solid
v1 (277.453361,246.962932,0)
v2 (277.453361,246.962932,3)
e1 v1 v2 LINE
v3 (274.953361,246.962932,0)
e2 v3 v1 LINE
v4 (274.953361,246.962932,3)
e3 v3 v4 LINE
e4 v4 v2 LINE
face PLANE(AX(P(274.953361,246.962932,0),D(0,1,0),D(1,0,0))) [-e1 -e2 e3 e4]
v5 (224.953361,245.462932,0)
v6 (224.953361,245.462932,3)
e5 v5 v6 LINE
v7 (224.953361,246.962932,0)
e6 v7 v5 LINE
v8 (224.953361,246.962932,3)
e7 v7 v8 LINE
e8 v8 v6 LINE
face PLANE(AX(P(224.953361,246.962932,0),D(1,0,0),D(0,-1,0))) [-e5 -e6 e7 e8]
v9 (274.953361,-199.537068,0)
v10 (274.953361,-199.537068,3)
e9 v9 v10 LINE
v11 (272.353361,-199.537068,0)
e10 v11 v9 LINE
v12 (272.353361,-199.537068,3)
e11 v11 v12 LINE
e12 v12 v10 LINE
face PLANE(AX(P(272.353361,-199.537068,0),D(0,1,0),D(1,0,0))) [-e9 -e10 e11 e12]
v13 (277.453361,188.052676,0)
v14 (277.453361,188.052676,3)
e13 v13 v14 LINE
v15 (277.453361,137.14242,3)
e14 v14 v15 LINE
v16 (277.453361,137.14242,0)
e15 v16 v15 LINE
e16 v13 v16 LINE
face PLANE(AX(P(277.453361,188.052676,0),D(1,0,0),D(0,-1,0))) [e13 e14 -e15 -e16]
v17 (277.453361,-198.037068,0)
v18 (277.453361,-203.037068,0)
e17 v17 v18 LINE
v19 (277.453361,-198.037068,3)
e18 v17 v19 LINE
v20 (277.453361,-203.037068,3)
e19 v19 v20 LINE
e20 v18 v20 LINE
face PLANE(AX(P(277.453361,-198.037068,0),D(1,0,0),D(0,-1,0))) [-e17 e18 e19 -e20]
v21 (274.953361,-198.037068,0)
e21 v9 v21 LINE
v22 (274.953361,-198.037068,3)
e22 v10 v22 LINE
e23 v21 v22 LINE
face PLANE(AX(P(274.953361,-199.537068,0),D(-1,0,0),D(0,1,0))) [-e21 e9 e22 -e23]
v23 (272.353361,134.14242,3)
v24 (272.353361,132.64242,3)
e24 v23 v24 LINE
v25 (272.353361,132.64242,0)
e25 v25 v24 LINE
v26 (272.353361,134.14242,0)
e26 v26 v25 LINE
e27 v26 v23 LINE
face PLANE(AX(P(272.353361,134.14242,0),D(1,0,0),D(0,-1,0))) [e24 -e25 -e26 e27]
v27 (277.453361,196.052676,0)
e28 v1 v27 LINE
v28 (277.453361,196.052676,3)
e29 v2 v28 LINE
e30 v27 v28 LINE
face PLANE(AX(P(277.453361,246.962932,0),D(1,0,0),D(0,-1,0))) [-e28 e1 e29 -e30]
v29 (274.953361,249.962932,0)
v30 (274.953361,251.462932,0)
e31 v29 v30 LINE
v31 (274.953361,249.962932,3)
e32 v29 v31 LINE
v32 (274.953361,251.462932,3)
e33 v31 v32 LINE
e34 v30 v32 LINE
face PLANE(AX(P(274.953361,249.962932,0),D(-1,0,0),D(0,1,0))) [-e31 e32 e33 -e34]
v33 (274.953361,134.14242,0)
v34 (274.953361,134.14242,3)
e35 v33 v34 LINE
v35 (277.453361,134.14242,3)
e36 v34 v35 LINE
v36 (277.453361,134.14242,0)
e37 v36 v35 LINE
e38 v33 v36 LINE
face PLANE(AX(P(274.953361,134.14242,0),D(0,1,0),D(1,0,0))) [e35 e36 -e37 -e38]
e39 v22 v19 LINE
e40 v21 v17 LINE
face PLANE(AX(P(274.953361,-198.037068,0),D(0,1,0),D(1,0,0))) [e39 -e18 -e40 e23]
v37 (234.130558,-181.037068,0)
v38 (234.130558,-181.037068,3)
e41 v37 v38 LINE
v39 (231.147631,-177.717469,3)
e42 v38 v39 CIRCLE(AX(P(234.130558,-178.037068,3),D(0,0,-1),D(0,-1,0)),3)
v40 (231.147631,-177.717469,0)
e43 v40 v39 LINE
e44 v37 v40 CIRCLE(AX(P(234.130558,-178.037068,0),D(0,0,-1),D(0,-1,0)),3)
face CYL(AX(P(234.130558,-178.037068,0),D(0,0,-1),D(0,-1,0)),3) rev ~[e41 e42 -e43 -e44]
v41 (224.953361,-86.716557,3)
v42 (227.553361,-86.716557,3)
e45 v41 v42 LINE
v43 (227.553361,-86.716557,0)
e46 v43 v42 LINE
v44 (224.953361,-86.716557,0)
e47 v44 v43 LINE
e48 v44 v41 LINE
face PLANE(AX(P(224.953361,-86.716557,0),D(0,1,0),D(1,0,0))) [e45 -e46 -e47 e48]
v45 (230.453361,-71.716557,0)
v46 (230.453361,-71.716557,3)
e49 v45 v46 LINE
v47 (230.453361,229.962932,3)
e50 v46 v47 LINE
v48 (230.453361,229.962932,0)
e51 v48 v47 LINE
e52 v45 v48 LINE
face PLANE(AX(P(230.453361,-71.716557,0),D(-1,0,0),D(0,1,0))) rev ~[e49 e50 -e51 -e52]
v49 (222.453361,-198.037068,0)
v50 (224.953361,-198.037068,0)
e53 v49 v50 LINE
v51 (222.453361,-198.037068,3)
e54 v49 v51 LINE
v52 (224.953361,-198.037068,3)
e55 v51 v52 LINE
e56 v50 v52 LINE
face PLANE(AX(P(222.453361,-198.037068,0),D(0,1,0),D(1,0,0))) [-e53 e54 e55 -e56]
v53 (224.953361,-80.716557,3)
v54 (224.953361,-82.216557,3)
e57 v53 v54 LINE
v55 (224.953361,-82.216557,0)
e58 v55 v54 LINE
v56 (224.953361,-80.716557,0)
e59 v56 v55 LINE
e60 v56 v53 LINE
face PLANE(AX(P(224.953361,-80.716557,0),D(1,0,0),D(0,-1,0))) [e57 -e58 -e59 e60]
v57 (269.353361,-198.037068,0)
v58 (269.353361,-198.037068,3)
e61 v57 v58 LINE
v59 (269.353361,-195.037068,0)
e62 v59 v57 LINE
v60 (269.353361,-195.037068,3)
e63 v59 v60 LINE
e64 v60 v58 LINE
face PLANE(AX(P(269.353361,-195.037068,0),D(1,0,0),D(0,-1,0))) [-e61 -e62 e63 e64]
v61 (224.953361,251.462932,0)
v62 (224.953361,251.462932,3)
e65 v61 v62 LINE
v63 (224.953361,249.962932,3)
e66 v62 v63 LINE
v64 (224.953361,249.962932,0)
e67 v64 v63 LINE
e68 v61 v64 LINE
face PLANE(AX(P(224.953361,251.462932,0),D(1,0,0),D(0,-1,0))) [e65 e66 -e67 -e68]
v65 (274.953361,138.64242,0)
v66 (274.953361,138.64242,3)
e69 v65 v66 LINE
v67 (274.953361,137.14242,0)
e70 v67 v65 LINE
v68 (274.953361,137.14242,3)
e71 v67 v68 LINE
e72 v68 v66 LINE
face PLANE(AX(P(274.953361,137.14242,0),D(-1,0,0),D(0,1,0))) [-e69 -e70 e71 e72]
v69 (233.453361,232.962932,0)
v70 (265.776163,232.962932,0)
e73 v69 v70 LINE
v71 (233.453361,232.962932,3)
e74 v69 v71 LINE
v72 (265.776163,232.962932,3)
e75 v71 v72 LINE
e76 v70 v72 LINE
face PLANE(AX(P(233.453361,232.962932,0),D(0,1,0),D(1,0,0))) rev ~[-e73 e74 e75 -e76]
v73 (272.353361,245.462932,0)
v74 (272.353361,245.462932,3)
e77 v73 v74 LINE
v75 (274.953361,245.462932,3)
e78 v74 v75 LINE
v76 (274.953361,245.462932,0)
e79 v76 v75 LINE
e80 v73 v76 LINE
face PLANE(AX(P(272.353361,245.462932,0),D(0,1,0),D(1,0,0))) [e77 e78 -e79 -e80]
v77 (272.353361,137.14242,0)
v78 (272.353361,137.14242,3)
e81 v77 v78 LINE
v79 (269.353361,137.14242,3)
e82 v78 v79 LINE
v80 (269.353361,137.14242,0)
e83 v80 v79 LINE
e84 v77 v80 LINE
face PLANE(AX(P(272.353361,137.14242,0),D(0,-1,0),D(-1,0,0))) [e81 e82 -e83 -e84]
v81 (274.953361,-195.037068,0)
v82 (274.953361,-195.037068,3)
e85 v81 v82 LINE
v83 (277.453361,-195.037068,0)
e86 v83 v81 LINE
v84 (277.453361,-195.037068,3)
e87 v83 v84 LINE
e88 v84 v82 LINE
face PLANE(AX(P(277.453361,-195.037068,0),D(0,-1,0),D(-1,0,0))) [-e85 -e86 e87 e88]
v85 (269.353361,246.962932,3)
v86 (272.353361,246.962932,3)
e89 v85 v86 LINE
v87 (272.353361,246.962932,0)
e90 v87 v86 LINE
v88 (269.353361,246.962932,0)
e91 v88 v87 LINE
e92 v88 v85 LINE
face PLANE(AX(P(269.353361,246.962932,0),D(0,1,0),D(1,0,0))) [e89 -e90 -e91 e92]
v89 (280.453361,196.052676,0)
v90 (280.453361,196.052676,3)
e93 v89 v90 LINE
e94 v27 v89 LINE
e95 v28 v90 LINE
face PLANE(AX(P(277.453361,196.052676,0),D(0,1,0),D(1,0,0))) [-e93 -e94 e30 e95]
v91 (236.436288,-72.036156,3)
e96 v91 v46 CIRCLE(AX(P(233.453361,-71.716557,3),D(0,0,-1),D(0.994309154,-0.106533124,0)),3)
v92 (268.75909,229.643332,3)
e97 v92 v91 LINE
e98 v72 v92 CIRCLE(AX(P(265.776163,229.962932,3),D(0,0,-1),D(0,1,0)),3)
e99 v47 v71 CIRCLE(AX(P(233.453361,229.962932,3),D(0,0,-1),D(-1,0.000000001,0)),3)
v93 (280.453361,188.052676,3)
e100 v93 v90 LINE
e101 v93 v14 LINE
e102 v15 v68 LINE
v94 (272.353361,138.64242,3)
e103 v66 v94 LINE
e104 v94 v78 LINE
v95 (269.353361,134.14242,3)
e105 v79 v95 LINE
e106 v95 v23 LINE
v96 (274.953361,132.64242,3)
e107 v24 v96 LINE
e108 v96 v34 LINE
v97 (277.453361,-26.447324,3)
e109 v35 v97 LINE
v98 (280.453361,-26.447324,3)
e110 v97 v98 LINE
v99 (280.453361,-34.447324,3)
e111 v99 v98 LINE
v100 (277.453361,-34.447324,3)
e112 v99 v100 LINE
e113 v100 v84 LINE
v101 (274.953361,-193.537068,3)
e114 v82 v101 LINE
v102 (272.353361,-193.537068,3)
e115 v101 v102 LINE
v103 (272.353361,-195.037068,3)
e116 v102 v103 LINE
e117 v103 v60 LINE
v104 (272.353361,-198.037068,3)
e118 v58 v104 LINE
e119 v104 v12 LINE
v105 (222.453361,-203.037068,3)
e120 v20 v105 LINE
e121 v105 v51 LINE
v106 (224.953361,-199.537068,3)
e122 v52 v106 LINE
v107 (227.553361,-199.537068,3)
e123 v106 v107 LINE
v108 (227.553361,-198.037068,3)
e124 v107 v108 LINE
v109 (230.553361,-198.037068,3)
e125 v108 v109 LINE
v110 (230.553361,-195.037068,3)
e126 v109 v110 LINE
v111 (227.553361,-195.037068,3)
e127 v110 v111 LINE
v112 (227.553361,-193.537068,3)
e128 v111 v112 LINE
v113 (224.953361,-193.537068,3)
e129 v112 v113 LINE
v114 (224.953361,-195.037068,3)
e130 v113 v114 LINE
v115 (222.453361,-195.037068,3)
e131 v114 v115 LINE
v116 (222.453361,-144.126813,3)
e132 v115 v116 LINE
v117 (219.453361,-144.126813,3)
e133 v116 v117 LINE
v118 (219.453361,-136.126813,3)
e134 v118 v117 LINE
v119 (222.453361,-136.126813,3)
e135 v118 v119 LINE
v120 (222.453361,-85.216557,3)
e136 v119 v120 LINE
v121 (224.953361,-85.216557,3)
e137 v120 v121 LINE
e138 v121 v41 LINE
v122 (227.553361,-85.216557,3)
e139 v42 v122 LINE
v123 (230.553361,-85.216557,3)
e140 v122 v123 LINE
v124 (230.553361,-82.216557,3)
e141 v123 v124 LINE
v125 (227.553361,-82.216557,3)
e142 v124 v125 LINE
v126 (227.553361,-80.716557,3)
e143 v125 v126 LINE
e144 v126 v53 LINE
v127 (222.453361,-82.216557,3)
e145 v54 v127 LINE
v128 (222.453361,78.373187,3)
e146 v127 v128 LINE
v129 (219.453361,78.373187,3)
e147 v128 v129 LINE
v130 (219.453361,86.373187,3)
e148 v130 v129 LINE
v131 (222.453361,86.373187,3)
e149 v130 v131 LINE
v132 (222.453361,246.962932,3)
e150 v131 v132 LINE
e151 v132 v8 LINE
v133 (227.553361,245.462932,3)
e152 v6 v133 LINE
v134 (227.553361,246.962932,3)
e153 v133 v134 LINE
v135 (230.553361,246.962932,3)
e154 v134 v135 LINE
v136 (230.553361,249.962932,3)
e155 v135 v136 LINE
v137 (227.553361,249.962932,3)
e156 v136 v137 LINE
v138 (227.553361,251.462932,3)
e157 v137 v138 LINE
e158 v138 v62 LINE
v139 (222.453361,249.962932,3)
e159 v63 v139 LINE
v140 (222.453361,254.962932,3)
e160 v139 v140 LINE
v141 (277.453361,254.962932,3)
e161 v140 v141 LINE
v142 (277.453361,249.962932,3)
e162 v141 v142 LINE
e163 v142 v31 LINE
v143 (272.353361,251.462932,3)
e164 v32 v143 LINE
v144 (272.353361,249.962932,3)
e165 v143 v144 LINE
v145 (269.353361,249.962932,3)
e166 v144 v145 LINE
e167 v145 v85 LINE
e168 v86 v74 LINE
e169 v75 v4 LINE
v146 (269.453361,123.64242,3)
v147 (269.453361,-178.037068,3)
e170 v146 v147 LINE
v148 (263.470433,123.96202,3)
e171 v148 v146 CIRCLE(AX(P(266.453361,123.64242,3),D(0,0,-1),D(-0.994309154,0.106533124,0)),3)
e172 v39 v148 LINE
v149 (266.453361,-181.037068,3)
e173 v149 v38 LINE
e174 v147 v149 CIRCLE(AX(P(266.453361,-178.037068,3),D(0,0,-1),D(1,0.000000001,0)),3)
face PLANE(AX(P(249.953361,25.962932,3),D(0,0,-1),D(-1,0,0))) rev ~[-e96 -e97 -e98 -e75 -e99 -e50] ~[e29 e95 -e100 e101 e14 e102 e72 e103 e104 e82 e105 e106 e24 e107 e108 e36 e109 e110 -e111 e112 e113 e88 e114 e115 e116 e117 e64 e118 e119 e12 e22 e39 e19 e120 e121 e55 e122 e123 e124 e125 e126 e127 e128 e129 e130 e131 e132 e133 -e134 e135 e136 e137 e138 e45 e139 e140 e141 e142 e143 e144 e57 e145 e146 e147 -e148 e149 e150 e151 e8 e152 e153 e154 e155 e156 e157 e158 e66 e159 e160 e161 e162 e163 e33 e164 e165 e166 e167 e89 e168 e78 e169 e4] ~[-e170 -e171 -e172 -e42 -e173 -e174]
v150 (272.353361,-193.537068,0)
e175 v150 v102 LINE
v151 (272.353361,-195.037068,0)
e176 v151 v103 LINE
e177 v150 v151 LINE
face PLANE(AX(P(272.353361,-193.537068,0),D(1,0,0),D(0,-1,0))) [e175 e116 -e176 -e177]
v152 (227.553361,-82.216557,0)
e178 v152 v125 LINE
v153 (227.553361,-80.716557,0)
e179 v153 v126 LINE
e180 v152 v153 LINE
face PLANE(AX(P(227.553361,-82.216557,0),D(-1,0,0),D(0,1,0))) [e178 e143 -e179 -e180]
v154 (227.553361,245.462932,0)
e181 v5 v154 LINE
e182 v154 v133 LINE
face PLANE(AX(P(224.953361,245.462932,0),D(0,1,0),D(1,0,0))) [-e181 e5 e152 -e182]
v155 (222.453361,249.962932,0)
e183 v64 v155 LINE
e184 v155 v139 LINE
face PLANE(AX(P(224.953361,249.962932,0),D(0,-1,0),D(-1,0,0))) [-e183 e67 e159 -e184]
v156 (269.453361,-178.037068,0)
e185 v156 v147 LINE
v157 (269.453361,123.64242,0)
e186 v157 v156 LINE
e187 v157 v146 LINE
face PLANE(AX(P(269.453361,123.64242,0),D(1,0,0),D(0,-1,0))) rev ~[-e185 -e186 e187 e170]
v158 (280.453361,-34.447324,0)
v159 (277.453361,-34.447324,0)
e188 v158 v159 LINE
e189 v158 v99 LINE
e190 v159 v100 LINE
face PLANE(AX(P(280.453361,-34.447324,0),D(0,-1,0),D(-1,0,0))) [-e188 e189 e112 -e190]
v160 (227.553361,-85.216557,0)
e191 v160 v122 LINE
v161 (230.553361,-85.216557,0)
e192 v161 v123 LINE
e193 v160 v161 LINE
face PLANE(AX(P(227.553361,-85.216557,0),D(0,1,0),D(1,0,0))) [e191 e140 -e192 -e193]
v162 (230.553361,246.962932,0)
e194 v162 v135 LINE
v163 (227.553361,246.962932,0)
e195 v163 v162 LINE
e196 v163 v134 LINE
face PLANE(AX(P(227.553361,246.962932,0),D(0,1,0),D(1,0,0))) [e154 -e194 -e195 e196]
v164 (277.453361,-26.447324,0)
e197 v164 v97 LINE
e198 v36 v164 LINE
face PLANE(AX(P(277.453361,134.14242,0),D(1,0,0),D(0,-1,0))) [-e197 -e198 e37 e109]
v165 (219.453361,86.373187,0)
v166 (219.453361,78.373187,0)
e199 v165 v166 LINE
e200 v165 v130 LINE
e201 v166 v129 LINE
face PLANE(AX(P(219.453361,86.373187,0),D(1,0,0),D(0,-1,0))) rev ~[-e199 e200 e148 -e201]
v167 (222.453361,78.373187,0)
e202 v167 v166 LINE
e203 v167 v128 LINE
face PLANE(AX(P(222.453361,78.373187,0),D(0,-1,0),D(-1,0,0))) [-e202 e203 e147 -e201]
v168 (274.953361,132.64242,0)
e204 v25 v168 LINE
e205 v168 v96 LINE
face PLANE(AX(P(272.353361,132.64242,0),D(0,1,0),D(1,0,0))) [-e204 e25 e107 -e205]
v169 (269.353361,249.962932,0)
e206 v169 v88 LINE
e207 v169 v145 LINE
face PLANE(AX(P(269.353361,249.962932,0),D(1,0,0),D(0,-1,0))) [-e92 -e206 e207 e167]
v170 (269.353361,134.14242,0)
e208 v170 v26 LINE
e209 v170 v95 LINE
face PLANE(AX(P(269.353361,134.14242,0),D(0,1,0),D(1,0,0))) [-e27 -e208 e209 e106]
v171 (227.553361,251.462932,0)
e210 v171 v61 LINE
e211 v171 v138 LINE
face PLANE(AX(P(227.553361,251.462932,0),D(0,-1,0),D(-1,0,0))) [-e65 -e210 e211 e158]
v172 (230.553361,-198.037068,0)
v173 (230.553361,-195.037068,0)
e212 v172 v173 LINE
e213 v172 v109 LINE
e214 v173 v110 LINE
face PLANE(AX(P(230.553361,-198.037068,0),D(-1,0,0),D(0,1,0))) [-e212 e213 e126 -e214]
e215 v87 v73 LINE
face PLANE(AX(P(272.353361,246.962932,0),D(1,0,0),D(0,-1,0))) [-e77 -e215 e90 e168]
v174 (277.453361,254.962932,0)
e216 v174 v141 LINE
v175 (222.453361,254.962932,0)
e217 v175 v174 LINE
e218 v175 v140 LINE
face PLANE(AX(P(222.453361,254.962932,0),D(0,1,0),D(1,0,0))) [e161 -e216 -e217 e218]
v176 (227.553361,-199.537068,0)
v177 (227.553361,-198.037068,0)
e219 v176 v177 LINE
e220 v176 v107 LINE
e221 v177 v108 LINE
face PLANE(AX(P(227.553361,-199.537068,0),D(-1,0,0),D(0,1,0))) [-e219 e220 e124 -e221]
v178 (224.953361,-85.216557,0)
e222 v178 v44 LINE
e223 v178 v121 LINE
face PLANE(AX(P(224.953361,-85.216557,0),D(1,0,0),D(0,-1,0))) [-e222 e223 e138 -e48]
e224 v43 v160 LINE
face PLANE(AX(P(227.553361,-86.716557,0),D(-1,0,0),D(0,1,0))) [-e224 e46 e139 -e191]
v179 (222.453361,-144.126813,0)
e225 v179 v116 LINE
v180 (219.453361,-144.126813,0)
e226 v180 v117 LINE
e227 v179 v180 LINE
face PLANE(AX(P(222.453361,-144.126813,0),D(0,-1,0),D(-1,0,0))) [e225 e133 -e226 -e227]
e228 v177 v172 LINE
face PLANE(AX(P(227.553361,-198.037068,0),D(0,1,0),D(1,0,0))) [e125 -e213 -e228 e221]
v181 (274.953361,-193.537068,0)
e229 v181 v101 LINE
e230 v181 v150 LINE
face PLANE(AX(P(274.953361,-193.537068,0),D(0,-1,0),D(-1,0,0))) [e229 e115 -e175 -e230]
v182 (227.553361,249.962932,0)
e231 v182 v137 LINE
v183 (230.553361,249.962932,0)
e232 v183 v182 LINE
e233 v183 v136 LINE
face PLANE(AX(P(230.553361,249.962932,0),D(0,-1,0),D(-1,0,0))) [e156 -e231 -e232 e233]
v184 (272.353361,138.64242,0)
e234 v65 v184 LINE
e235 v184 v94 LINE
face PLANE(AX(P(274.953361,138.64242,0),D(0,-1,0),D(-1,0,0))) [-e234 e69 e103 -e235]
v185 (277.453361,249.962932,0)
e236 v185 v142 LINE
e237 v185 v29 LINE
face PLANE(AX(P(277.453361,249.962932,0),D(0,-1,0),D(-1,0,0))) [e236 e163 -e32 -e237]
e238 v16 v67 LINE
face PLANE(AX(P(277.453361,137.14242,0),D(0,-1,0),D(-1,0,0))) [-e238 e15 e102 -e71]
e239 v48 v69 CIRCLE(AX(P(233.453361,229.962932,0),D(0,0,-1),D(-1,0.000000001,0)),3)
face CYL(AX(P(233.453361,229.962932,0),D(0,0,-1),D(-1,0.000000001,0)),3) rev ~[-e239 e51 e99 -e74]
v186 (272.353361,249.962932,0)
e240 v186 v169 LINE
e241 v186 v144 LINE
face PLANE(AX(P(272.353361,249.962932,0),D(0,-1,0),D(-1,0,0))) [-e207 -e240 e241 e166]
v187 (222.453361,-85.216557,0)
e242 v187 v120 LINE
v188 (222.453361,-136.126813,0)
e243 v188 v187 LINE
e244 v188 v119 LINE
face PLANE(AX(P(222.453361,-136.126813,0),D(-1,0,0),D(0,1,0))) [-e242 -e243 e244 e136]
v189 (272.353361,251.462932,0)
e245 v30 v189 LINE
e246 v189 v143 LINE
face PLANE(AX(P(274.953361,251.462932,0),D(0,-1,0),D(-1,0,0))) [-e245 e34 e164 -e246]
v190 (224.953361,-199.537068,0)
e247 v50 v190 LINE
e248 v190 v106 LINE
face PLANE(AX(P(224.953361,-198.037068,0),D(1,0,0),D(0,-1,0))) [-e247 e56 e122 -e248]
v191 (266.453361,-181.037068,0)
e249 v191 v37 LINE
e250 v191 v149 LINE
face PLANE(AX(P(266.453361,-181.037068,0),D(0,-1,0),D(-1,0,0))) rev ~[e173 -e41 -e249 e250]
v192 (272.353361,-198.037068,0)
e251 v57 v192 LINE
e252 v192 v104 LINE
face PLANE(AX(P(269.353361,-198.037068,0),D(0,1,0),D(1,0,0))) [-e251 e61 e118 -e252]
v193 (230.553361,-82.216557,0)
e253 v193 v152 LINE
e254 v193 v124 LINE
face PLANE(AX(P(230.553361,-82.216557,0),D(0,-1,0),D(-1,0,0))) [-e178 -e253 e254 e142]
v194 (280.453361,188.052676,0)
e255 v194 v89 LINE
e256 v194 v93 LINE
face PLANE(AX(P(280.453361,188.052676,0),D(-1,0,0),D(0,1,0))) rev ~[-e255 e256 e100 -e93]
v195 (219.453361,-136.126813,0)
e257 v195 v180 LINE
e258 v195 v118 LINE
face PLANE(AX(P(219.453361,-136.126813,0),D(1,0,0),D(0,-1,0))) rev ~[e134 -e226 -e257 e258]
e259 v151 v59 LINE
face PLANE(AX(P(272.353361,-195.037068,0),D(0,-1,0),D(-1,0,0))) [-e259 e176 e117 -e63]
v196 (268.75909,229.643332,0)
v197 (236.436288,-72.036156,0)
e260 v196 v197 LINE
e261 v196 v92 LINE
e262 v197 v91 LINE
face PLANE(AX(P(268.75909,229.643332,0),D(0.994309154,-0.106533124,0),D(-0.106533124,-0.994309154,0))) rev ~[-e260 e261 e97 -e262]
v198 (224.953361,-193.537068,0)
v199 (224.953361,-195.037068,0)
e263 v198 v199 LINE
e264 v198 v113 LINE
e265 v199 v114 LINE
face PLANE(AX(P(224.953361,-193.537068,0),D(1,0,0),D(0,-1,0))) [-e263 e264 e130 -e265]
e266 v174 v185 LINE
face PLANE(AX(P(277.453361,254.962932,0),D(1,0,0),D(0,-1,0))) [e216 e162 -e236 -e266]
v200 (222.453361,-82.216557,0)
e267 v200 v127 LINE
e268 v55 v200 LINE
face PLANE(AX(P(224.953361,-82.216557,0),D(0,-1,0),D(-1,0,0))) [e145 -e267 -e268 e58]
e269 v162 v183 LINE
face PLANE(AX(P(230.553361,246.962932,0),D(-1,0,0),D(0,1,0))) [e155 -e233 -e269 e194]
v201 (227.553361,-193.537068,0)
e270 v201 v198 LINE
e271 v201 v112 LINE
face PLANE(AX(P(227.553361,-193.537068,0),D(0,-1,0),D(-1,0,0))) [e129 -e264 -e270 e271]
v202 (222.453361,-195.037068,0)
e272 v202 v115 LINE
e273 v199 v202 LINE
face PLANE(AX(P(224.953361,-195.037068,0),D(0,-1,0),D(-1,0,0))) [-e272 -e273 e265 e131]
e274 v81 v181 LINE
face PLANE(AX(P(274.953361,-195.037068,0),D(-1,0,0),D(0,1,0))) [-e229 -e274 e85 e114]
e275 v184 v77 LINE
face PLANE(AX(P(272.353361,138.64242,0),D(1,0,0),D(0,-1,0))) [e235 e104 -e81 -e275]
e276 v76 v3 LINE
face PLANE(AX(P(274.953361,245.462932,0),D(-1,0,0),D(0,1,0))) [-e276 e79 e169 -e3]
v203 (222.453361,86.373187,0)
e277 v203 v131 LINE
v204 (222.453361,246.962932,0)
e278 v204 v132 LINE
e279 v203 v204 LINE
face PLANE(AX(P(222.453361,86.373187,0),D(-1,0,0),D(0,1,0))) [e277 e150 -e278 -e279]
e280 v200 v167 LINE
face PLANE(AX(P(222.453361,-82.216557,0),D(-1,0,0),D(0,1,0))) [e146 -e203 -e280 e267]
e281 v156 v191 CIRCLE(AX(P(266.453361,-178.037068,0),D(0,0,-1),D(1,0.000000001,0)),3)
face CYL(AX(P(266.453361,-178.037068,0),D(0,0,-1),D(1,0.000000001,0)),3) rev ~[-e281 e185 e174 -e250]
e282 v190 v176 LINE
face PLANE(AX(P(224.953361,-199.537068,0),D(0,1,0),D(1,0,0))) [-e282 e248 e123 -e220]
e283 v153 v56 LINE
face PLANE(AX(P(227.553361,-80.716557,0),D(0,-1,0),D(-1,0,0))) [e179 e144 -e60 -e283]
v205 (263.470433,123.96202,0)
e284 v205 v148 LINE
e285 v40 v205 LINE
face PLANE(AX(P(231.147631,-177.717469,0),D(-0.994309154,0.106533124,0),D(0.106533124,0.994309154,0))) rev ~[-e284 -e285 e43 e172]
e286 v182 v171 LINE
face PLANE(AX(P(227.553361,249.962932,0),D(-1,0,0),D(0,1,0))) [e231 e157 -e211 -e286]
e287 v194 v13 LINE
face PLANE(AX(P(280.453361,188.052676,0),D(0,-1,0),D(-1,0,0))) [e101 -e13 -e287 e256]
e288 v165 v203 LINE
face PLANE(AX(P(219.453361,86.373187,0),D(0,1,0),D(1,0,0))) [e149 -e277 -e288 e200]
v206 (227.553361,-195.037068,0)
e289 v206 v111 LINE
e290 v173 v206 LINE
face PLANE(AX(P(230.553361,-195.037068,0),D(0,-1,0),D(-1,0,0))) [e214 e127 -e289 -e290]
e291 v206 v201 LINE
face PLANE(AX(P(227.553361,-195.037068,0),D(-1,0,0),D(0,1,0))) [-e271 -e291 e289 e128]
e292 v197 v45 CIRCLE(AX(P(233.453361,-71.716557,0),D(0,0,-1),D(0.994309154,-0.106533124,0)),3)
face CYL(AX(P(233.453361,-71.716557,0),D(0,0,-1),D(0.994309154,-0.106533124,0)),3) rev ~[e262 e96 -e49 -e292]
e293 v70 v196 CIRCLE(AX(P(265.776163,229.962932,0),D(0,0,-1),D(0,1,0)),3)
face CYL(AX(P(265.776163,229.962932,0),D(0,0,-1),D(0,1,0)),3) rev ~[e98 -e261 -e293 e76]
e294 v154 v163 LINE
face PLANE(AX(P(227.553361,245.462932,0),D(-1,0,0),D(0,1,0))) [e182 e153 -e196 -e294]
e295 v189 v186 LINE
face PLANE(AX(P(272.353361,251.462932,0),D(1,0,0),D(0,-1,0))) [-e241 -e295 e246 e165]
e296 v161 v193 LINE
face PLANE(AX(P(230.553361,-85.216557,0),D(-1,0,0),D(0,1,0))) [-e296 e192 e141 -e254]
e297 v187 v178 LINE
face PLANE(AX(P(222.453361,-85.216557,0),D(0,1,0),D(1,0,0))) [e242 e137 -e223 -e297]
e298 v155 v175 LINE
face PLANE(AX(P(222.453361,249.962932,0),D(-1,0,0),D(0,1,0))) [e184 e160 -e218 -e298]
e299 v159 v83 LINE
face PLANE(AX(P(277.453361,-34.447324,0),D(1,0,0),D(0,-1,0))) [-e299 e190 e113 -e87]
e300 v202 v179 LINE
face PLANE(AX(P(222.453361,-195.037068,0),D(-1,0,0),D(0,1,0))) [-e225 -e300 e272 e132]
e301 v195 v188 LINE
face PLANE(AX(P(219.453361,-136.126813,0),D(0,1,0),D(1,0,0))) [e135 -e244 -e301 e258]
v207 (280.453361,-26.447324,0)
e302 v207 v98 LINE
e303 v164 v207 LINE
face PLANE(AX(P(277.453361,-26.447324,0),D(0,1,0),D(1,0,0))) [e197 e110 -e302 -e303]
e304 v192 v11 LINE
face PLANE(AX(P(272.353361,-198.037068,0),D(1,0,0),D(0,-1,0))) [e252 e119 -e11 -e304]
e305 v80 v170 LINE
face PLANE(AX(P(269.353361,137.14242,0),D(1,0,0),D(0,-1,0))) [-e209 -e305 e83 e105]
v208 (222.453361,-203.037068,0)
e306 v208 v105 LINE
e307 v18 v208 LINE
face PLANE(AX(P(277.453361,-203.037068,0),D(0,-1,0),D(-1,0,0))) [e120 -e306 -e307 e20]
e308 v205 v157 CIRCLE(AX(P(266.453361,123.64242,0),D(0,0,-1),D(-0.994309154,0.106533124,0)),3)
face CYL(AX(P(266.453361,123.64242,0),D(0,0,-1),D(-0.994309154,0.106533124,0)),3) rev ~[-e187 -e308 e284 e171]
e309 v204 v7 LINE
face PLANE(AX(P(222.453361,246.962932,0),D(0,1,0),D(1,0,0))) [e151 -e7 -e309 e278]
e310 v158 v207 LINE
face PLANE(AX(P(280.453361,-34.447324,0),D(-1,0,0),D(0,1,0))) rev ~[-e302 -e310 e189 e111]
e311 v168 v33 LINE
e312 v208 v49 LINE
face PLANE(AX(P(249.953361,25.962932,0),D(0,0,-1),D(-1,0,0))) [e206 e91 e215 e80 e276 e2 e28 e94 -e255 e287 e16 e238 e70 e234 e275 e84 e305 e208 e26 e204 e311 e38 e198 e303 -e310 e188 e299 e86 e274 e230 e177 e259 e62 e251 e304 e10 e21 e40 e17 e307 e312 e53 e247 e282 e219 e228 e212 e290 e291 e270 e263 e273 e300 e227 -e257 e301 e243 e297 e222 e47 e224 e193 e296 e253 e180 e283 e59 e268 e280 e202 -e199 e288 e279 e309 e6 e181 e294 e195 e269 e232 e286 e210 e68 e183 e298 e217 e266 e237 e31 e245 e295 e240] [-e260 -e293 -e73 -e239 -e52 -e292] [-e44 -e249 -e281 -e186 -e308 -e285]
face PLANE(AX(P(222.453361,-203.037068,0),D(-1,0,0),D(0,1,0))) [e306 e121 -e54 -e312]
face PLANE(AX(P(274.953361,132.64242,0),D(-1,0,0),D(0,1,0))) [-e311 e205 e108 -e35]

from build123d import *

# Parameters (mm, degrees)
EXTRUDE_1_DEPTH = 3


with BuildPart() as part:
    # 草图1 → 凸台-拉伸1 (new body)
    with BuildSketch(Plane.XY):
        Polygon((277.453360513, -198.037068397), (277.453360513, -203.037068397), (222.453360513, -203.037068397), (222.453360513, -198.037068397), (224.953360513, -198.037068397), (224.953360513, -199.537068397), (227.553360513, -199.537068397), (227.553360513, -198.037068397), (230.553360513, -198.037068397), (230.553360513, -195.037068397), (227.553360513, -195.037068397), (227.553360513, -193.537068397), (224.953360513, -193.537068397), (224.953360513, -195.037068397), (222.453360513, -195.037068397), (222.453360513, -144.126812717), (219.453360513, -144.126812717), (219.453360513, -140.126812717), (219.453360513, -136.126812717), (222.453360513, -136.126812717), (222.453360513, -85.216557036), (224.953360513, -85.216557036), (224.953360513, -86.716557036), (227.553360513, -86.716557036), (227.553360513, -85.216557036), (230.553360513, -85.216557036), (230.553360513, -82.216557036), (227.553360513, -82.216557036), (227.553360513, -80.716557036), (224.953360513, -80.716557036), (224.953360513, -82.216557036), (222.453360513, -82.216557036), (222.453360513, 78.373187283), (219.453360513, 78.373187283), (219.453360513, 82.373187283), (219.453360513, 86.373187283), (222.453360513, 86.373187283), (222.453360513, 246.962931603), (224.953360513, 246.962931603), (224.953360513, 245.462931603), (227.553360513, 245.462931603), (227.553360513, 246.962931603), (230.553360513, 246.962931603), (230.553360513, 249.962931603), (227.553360513, 249.962931603), (227.553360513, 251.462931603), (224.953360513, 251.462931603), (224.953360513, 249.962931603), (222.453360513, 249.962931603), (222.453360513, 254.962931603), (277.453360513, 254.962931603), (277.453360513, 249.962931603), (274.953360513, 249.962931603), (274.953360513, 251.462931603), (272.353360513, 251.462931603), (272.353360513, 249.962931603), (269.353360513, 249.962931603), (269.353360513, 246.962931603), (272.353360513, 246.962931603), (272.353360513, 245.462931603), (274.953360513, 245.462931603), (274.953360513, 246.962931603), (277.453360513, 246.962931603), (277.453360513, 196.052675922), (280.453360513, 196.052675922), (280.453360513, 192.052675922), (280.453360513, 188.052675922), (277.453360513, 188.052675922), (277.453360513, 137.142420241), (274.953360513, 137.142420241), (274.953360513, 138.642420241), (272.353360513, 138.642420241), (272.353360513, 137.142420241), (269.353360513, 137.142420241), (269.353360513, 134.142420241), (272.353360513, 134.142420241), (272.353360513, 132.642420241), (274.953360513, 132.642420241), (274.953360513, 134.142420241), (277.453360513, 134.142420241), (277.453360513, -26.447324078), (280.453360513, -26.447324078), (280.453360513, -30.447324078), (280.453360513, -34.447324078), (277.453360513, -34.447324078), (277.453360513, -195.037068397), (274.953360513, -195.037068397), (274.953360513, -193.537068397), (272.353360513, -193.537068397), (272.353360513, -195.037068397), (269.353360513, -195.037068397), (269.353360513, -198.037068397), (272.353360513, -198.037068397), (272.353360513, -199.537068397), (274.953360513, -199.537068397), (274.953360513, -198.037068397), align=None)
        with BuildLine():
            Line((233.453360513, 232.962931603), (265.776162867, 232.962931603))
            ThreePointArc((265.776162867, 232.962931603), (268.007619579, 231.968075224), (268.759090329, 229.643332232))
            Line((268.759090329, 229.643332232), (236.436287975, -72.036156407))
            ThreePointArc((236.436287975, -72.036156407), (233.293332993, -74.712285861), (230.453360513, -71.716557036))
            Line((230.453360513, -71.716557036), (230.453360513, 229.962931603))
            ThreePointArc((230.453360513, 229.962931603), (231.33204017, 232.084251946), (233.453360513, 232.962931603))
        make_face(mode=Mode.SUBTRACT)
        with BuildLine():
            Line((269.453360513, 123.642420241), (269.453360513, -178.037068397))
            ThreePointArc((269.453360513, -178.037068397), (268.574680857, -180.158388741), (266.453360513, -181.037068397))
            Line((266.453360513, -181.037068397), (234.130558159, -181.037068397))
            ThreePointArc((234.130558159, -181.037068397), (231.899101447, -180.042212019), (231.147630697, -177.717469026))
            Line((231.147630697, -177.717469026), (263.470433052, 123.962019612))
            ThreePointArc((263.470433052, 123.962019612), (266.613388034, 126.638149066), (269.453360513, 123.642420241))
        make_face(mode=Mode.SUBTRACT)
    extrude(amount=EXTRUDE_1_DEPTH)


solid = part.part
